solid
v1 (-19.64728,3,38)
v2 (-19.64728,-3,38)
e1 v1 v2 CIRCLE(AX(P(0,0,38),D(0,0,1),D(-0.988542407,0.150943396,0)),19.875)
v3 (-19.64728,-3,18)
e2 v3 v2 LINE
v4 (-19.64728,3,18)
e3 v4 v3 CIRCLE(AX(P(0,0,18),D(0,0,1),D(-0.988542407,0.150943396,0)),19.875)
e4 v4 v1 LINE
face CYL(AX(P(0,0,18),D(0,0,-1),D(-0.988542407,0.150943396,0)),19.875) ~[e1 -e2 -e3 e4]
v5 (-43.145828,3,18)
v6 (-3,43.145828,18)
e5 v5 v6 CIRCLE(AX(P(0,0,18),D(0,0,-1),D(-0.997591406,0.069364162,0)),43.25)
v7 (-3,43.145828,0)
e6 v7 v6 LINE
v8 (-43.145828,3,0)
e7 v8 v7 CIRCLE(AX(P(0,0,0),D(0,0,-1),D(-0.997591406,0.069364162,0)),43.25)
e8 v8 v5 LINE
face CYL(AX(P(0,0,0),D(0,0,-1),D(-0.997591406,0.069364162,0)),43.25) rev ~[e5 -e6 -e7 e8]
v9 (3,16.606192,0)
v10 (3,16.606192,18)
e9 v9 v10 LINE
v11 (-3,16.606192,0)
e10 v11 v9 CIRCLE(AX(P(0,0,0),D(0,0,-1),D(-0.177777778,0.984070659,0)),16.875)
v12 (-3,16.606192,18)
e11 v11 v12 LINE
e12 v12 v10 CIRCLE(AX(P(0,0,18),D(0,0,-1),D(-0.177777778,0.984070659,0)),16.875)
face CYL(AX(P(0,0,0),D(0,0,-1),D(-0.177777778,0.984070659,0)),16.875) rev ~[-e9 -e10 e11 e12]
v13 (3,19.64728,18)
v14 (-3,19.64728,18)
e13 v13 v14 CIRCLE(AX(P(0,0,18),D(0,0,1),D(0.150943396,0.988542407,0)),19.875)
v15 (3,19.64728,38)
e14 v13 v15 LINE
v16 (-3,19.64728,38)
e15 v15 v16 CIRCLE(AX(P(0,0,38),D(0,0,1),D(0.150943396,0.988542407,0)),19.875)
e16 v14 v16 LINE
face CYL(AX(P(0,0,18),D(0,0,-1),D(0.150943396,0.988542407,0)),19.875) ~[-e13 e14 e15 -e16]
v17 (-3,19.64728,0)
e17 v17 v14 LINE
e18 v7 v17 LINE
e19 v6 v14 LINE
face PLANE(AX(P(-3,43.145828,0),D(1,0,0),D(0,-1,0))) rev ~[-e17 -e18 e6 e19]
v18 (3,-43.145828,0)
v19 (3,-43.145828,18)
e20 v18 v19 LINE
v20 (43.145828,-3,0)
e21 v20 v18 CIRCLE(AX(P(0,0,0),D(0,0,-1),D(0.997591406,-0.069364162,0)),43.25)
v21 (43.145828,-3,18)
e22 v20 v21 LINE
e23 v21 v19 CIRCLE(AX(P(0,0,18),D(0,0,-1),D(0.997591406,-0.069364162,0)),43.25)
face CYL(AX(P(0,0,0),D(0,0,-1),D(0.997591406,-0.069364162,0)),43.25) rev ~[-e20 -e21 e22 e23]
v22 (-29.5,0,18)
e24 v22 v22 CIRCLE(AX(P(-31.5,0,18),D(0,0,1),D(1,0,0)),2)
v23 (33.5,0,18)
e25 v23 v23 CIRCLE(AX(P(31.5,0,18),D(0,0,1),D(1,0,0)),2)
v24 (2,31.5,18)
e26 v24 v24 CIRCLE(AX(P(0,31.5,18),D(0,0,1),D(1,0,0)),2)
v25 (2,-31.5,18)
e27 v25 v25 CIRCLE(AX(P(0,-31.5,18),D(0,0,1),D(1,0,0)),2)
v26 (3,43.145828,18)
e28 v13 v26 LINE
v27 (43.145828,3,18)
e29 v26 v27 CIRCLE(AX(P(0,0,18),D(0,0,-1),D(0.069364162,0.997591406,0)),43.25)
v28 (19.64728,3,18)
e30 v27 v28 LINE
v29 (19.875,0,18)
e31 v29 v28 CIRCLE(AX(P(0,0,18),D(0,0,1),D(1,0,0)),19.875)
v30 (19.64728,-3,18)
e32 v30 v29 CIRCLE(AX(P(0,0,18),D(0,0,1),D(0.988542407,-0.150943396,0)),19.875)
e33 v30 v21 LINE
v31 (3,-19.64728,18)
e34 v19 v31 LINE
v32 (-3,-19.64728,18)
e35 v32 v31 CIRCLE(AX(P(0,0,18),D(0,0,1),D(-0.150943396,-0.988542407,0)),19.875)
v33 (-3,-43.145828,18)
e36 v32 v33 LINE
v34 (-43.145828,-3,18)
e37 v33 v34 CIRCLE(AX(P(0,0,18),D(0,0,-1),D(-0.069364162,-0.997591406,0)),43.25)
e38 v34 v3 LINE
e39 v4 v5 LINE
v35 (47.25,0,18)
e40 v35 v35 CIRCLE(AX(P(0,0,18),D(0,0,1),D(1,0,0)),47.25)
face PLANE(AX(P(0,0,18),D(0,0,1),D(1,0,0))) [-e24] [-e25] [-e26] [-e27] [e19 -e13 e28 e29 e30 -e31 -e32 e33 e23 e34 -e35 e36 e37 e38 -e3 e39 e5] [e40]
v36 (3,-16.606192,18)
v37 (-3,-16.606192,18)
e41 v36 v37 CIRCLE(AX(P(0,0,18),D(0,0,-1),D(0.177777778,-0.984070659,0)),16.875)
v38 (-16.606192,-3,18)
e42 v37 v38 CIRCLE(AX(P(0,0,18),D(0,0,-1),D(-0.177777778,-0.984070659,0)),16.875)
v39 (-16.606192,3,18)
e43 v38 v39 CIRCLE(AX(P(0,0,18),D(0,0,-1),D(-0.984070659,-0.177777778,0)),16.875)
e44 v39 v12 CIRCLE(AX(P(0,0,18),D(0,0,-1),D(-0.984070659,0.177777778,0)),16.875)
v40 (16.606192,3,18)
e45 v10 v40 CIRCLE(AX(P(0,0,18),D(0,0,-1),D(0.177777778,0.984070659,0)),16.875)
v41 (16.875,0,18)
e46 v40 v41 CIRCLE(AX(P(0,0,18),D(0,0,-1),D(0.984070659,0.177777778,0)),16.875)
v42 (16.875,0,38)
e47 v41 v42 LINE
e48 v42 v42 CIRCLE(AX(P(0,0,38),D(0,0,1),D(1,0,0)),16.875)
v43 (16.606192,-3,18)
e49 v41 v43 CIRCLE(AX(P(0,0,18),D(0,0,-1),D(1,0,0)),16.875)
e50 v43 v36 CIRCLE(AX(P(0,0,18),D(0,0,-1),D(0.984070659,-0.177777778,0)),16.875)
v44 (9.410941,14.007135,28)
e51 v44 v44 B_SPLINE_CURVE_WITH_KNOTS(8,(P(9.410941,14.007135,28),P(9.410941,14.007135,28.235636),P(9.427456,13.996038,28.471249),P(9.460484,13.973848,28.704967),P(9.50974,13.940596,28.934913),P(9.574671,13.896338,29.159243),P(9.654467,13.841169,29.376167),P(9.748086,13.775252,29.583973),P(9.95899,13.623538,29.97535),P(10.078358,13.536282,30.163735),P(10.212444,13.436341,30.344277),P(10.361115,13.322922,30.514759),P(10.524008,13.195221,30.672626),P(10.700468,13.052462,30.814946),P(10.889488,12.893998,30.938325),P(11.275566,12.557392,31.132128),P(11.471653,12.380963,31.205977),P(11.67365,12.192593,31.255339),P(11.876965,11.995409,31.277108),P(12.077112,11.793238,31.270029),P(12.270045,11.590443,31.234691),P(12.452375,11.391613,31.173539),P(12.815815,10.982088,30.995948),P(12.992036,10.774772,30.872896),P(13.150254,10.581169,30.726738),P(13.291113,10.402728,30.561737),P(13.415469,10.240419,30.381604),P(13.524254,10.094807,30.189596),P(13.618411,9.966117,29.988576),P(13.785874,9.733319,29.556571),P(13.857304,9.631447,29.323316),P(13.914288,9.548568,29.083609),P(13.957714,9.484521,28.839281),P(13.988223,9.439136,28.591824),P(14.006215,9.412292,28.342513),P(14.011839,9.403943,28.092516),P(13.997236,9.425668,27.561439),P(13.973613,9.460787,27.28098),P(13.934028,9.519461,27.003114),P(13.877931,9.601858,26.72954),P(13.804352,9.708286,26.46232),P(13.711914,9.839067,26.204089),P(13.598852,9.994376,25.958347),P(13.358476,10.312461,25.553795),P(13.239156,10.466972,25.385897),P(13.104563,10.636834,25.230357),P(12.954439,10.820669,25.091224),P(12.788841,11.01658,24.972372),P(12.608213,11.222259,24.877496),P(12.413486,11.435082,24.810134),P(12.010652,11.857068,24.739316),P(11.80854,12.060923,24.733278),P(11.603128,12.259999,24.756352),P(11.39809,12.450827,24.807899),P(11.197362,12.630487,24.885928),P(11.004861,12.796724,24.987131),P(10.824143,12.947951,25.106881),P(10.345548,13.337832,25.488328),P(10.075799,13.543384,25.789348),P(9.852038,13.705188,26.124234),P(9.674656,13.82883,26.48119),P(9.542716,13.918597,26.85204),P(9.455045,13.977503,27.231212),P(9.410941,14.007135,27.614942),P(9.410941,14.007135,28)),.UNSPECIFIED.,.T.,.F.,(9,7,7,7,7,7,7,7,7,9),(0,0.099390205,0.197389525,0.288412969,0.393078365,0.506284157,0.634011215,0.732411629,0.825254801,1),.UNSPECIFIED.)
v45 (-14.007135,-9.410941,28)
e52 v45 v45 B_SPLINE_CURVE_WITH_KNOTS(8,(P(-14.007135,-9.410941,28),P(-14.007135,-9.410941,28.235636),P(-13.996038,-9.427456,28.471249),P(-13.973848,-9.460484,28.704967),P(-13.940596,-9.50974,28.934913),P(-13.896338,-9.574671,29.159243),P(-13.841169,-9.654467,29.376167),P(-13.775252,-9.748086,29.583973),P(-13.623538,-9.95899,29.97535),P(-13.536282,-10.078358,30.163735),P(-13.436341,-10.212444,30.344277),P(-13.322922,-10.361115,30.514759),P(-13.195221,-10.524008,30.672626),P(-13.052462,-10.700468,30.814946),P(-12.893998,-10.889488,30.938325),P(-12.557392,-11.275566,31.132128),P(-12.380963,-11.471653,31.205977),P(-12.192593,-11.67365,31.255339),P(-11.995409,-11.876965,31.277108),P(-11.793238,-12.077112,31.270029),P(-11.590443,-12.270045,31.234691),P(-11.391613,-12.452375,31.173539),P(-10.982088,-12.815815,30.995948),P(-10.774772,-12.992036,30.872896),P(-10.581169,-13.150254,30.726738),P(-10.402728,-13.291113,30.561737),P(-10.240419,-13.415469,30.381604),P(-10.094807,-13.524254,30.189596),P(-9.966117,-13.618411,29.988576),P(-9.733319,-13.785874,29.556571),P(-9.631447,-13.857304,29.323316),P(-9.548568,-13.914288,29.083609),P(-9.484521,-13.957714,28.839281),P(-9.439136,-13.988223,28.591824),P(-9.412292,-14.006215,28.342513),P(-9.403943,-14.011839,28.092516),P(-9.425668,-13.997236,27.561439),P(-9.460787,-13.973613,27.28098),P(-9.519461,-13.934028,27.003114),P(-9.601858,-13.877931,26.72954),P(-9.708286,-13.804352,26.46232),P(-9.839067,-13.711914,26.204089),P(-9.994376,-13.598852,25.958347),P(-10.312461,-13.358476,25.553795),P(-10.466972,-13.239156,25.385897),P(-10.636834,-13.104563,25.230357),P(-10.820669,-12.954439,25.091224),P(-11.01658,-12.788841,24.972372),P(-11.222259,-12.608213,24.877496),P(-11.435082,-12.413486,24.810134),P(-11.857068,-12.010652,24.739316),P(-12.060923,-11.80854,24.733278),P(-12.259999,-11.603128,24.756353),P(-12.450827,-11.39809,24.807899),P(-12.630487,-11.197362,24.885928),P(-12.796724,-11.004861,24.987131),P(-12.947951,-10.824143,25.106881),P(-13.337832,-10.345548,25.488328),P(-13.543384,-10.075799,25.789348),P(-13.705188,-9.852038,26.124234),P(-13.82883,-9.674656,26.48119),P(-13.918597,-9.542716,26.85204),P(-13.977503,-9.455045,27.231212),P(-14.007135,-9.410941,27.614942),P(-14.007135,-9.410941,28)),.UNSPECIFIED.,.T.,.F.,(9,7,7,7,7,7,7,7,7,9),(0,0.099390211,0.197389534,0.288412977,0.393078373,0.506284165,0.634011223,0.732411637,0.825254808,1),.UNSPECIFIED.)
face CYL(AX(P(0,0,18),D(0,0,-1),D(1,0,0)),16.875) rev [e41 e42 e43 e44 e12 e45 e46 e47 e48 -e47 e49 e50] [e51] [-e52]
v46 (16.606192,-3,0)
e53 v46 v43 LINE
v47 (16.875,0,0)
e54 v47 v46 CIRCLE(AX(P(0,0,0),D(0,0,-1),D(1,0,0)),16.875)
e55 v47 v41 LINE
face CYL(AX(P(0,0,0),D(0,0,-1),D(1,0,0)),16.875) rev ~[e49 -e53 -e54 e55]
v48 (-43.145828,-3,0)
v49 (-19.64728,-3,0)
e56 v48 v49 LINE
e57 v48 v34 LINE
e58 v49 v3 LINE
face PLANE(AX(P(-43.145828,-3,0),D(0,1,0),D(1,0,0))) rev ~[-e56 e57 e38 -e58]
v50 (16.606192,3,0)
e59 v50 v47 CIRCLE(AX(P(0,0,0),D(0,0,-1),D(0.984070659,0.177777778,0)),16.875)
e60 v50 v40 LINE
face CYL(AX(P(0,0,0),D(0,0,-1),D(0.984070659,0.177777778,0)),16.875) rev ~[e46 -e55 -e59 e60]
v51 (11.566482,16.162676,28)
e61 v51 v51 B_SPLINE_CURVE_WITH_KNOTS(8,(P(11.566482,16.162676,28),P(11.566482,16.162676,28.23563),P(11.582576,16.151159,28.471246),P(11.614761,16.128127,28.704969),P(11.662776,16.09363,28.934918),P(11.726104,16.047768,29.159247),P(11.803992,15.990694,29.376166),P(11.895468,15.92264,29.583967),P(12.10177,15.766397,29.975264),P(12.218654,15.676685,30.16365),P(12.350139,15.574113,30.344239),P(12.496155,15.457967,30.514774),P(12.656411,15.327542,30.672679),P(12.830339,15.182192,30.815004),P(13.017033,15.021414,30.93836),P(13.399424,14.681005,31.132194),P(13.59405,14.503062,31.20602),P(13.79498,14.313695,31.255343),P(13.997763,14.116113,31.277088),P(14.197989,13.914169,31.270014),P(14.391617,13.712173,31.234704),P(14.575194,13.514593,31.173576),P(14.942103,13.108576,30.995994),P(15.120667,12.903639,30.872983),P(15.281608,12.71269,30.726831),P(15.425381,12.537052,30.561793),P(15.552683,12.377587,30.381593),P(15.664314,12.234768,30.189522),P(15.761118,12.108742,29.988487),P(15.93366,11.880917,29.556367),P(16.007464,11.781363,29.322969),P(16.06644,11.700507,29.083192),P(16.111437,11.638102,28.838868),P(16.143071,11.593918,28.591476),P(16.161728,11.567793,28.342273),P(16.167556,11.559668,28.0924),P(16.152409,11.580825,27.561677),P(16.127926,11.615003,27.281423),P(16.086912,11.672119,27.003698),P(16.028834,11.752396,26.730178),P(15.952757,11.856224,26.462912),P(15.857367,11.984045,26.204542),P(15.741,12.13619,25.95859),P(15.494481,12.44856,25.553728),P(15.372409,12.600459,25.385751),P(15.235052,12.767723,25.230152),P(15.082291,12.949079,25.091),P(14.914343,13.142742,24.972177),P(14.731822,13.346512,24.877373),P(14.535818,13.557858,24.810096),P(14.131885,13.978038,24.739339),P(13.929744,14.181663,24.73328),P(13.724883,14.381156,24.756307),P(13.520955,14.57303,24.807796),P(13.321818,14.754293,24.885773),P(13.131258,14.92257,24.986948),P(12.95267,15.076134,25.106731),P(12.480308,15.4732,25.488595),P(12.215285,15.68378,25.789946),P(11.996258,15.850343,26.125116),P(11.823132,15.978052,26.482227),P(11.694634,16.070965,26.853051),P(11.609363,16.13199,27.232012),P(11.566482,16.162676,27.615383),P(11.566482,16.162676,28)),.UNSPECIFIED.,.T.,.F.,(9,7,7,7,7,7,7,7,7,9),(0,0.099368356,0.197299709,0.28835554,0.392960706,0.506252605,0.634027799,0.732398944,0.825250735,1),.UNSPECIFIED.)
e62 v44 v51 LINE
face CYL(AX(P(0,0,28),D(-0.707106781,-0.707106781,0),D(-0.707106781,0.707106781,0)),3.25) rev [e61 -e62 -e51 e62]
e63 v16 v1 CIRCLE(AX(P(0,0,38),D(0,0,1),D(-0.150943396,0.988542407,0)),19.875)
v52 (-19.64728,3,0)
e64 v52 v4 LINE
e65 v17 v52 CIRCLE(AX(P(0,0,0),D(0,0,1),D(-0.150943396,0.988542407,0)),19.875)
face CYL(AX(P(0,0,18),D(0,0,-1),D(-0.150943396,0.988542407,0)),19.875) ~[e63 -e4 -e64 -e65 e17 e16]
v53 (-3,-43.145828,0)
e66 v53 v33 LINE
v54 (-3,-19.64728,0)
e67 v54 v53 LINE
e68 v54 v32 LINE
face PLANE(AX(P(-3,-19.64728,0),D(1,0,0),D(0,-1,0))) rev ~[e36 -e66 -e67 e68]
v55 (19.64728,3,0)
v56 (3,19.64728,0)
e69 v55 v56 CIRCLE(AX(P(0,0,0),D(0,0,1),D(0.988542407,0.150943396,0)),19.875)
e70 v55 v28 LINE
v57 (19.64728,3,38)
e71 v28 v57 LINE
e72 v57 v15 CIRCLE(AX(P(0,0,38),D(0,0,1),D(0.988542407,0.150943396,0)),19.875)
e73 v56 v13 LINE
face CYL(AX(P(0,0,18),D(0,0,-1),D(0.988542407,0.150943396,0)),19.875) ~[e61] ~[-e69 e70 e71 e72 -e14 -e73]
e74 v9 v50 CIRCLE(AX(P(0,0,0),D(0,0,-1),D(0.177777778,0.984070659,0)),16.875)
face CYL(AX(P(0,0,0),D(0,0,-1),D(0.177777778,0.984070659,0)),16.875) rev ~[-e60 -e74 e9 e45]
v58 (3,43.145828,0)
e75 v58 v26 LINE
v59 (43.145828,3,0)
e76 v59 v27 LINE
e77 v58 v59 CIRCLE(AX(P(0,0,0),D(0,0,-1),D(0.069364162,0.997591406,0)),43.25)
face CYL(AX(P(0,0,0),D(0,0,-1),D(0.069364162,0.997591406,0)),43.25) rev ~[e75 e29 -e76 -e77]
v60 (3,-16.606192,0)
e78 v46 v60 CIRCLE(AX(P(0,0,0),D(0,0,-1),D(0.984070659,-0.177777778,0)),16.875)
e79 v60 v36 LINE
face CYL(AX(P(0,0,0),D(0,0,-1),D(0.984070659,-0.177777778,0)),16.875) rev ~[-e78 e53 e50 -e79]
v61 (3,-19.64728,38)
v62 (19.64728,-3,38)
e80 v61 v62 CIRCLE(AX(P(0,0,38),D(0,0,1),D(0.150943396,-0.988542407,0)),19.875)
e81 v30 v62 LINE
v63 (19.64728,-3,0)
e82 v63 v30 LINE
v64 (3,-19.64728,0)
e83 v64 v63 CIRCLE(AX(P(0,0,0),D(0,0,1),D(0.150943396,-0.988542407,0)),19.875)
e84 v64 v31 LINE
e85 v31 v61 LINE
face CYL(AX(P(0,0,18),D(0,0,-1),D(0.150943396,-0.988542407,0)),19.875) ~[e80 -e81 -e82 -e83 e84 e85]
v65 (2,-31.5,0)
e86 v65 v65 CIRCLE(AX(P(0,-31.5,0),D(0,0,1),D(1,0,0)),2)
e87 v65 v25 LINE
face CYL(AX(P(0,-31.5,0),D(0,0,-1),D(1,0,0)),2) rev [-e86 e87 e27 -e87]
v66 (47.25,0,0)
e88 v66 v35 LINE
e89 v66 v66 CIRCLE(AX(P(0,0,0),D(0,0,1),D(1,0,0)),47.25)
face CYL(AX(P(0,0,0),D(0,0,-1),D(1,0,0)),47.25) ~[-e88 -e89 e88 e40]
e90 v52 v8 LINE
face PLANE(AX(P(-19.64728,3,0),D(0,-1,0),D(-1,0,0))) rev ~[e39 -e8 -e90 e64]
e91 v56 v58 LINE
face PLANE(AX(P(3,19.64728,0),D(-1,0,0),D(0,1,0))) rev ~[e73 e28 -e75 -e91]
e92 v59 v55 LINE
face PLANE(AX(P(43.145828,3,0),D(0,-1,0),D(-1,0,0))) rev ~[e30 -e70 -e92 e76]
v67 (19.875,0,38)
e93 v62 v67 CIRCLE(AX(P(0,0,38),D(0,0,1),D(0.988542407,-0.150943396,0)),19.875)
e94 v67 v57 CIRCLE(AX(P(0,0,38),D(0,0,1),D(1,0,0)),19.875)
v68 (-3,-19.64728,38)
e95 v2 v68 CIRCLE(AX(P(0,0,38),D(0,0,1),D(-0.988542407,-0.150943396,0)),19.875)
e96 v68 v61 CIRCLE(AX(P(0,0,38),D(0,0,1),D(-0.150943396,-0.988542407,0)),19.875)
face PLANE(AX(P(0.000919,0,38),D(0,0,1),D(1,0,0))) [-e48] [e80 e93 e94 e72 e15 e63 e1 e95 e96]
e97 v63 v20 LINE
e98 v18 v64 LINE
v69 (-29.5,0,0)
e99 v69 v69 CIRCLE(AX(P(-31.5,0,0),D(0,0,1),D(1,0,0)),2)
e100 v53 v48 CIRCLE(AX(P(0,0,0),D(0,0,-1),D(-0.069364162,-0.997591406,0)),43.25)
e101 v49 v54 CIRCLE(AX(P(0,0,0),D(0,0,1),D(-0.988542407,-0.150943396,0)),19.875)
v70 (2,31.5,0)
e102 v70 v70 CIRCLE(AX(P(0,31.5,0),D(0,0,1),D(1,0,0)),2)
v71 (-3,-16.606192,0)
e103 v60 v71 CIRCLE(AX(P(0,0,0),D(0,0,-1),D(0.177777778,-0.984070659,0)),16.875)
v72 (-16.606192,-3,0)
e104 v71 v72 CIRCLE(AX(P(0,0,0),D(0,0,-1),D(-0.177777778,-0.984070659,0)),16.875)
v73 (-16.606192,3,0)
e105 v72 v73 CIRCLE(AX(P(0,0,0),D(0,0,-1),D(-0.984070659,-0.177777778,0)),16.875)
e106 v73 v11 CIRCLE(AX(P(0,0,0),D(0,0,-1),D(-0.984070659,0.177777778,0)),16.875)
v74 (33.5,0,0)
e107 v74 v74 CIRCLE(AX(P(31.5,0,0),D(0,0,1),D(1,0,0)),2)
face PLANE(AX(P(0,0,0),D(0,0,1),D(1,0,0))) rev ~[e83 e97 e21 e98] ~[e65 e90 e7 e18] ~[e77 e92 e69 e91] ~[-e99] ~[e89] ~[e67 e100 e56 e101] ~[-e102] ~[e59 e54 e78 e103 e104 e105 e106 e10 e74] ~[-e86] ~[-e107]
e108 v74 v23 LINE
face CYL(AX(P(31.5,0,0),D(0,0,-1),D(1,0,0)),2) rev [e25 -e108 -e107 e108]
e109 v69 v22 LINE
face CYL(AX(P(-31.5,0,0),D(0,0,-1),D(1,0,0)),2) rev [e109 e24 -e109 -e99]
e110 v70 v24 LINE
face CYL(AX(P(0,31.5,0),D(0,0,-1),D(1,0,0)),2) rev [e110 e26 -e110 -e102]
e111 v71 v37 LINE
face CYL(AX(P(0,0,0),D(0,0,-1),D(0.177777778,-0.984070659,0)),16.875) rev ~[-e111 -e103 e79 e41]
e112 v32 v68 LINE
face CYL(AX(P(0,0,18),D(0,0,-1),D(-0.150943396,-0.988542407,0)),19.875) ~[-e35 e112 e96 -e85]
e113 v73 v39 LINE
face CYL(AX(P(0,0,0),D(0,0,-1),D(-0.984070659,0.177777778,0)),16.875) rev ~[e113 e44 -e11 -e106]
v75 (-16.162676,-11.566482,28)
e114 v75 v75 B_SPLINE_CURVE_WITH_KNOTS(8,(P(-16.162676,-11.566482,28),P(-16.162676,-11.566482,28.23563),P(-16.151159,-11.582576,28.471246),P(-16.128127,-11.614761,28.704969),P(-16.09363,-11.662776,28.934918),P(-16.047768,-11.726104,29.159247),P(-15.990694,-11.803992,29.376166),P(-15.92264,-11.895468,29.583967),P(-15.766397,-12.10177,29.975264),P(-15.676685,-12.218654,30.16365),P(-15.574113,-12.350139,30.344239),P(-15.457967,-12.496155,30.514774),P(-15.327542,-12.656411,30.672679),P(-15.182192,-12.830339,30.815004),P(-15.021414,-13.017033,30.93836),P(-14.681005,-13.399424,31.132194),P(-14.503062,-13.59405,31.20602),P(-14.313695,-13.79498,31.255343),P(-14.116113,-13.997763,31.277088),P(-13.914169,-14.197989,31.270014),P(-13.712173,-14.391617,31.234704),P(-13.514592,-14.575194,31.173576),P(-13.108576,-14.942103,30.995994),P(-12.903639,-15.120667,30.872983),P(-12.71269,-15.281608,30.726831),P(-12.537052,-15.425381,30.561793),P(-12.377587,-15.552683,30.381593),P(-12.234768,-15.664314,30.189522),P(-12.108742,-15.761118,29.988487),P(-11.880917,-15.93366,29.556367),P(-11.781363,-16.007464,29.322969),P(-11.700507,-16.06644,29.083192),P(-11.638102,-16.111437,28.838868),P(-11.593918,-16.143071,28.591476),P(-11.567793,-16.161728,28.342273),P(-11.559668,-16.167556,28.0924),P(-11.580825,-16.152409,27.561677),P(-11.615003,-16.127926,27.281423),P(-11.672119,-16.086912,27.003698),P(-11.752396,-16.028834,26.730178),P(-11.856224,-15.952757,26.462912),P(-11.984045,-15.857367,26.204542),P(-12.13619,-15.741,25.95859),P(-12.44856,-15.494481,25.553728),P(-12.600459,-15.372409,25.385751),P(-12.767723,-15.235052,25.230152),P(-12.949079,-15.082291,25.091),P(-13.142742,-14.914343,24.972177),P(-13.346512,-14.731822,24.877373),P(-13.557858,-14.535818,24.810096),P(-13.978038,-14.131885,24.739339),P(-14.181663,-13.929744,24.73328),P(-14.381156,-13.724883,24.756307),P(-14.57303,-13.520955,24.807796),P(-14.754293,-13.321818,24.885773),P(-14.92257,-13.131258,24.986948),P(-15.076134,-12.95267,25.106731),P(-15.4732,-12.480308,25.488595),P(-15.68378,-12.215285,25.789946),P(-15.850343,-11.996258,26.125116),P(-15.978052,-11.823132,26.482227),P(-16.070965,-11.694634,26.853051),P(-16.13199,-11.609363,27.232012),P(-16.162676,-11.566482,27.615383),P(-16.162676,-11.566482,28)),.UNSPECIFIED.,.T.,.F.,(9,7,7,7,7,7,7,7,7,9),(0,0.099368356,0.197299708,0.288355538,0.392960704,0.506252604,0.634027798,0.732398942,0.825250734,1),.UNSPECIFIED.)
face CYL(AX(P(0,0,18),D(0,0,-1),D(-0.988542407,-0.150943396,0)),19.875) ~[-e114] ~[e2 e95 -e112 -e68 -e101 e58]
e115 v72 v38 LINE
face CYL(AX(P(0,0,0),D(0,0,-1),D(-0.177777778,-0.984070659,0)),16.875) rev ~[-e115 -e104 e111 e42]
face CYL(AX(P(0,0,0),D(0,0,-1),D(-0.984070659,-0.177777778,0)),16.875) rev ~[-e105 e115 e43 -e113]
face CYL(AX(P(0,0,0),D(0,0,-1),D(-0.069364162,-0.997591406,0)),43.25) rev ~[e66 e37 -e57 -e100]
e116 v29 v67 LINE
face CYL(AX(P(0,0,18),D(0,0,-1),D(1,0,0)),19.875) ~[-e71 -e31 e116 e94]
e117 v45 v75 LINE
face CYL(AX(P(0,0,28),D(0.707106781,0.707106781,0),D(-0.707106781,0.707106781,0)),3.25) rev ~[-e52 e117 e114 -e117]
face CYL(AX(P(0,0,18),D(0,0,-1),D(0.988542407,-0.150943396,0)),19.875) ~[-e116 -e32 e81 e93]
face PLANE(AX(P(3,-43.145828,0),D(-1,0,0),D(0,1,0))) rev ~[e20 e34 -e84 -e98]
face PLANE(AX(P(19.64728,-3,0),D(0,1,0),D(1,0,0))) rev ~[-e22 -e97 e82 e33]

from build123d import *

# Parameters (mm, degrees)
F0_R     = 47.25
F0_R_2   = 2
F1_DEPTH = 18
F2_R     = 16.875
F3_DEPTH = 20
F7_R     = 3.25
F8_DEPTH = 25
F9_DEPTH = 25


with BuildPart() as f1:
    # F0 (on Top) → F1 (new body)
    with BuildSketch(Plane.XY):
        Circle(F0_R)
        with BuildLine():
            ThreePointArc((3, 43.1458283036), (30.5823682863, 30.5823682863), (43.1458283036, 3))
            ThreePointArc((43.1458283036, 3), (43.2239492303, 1.5009040394), (43.25, 0))
            ThreePointArc((43.25, 0), (43.2239492303, -1.5009040394), (43.1458283036, -3))
            ThreePointArc((43.1458283036, -3), (30.5823682863, -30.5823682863), (3, -43.1458283036))
            ThreePointArc((3, -43.1458283036), (0, -43.25), (-3, -43.1458283036))
            ThreePointArc((-3, -43.1458283036), (-30.5823682863, -30.5823682863), (-43.1458283036, -3))
            ThreePointArc((-43.1458283036, -3), (-43.25, 0), (-43.1458283036, 3))
            ThreePointArc((-43.1458283036, 3), (-30.5823682863, 30.5823682863), (-3, 43.1458283036))
            ThreePointArc((-3, 43.1458283036), (0, 43.25), (3, 43.1458283036))
        make_face(mode=Mode.SUBTRACT)
        with BuildLine():
            Line((43.1458283036, 3), (19.6472803461, 3))
            ThreePointArc((19.6472803461, 3), (19.8179883172, 1.5043151466), (19.875, 0))
            ThreePointArc((19.875, 0), (19.8179883172, -1.5043151466), (19.6472803461, -3))
            Line((19.6472803461, -3), (43.1458283036, -3))
            ThreePointArc((43.1458283036, -3), (43.2239492303, -1.5009040394), (43.25, 0))
            ThreePointArc((43.25, 0), (43.2239492303, 1.5009040394), (43.1458283036, 3))
        make_face()
        with Locations((31.5, 0)):
            Circle(F0_R_2, mode=Mode.SUBTRACT)
        with BuildLine():
            ThreePointArc((-19.6472803461, -3), (-19.875, 0), (-19.6472803461, 3))
            Line((-19.6472803461, 3), (-43.1458283036, 3))
            ThreePointArc((-43.1458283036, 3), (-43.25, 0), (-43.1458283036, -3))
            Line((-43.1458283036, -3), (-19.6472803461, -3))
        make_face()
        with Locations((-31.5, 0)):
            Circle(F0_R_2, mode=Mode.SUBTRACT)
        with BuildLine():
            ThreePointArc((-3, 19.6472803461), (0, 19.875), (3, 19.6472803461))
            Line((3, 19.6472803461), (3, 43.1458283036))
            ThreePointArc((3, 43.1458283036), (0, 43.25), (-3, 43.1458283036))
            Line((-3, 43.1458283036), (-3, 19.6472803461))
        make_face()
        with Locations((0, 31.5)):
            Circle(F0_R_2, mode=Mode.SUBTRACT)
        with BuildLine():
            Line((3, -43.1458283036), (3, -19.6472803461))
            ThreePointArc((3, -19.6472803461), (0, -19.875), (-3, -19.6472803461))
            Line((-3, -19.6472803461), (-3, -43.1458283036))
            ThreePointArc((-3, -43.1458283036), (0, -43.25), (3, -43.1458283036))
        make_face()
        with Locations((0, -31.5)):
            Circle(F0_R_2, mode=Mode.SUBTRACT)
        with BuildLine():
            Line((-3, -19.6472803461), (-3, -16.6061923691))
            ThreePointArc((-3, -16.6061923691), (-11.9324269325, -11.9324269325), (-16.6061923691, -3))
            Line((-16.6061923691, -3), (-19.6472803461, -3))
            ThreePointArc((-19.6472803461, -3), (-14.0537472761, -14.0537472761), (-3, -19.6472803461))
        make_face()
        with BuildLine():
            Line((19.6472803461, -3), (16.6061923691, -3))
            ThreePointArc((16.6061923691, -3), (11.9324269325, -11.9324269325), (3, -16.6061923691))
            Line((3, -16.6061923691), (3, -19.6472803461))
            ThreePointArc((3, -19.6472803461), (14.0537472761, -14.0537472761), (19.6472803461, -3))
        make_face()
        with BuildLine():
            ThreePointArc((3, 16.6061923691), (11.9324269325, 11.9324269325), (16.6061923691, 3))
            Line((16.6061923691, 3), (19.6472803461, 3))
            ThreePointArc((19.6472803461, 3), (14.0537472761, 14.0537472761), (3, 19.6472803461))
            Line((3, 19.6472803461), (3, 16.6061923691))
        make_face()
        with BuildLine():
            ThreePointArc((-16.6061923691, 3), (-11.9324269325, 11.9324269325), (-3, 16.6061923691))
            Line((-3, 16.6061923691), (-3, 19.6472803461))
            ThreePointArc((-3, 19.6472803461), (-14.0537472761, 14.0537472761), (-19.6472803461, 3))
            Line((-19.6472803461, 3), (-16.6061923691, 3))
        make_face()
        with BuildLine():
            ThreePointArc((-3, 16.6061923691), (0, 16.875), (3, 16.6061923691))
            Line((3, 16.6061923691), (3, 19.6472803461))
            ThreePointArc((3, 19.6472803461), (0, 19.875), (-3, 19.6472803461))
            Line((-3, 19.6472803461), (-3, 16.6061923691))
        make_face()
        with BuildLine():
            ThreePointArc((16.6061923691, 3), (16.8076637465, 1.5060094241), (16.875, 0))
            ThreePointArc((16.875, 0), (16.8076637465, -1.5060094241), (16.6061923691, -3))
            Line((16.6061923691, -3), (19.6472803461, -3))
            ThreePointArc((19.6472803461, -3), (19.8179883172, -1.5043151466), (19.875, 0))
            ThreePointArc((19.875, 0), (19.8179883172, 1.5043151466), (19.6472803461, 3))
            Line((19.6472803461, 3), (16.6061923691, 3))
        make_face()
        with BuildLine():
            ThreePointArc((-16.6061923691, -3), (-16.875, 0), (-16.6061923691, 3))
            Line((-16.6061923691, 3), (-19.6472803461, 3))
            ThreePointArc((-19.6472803461, 3), (-19.875, 0), (-19.6472803461, -3))
            Line((-19.6472803461, -3), (-16.6061923691, -3))
        make_face()
        with BuildLine():
            Line((3, -19.6472803461), (3, -16.6061923691))
            ThreePointArc((3, -16.6061923691), (0, -16.875), (-3, -16.6061923691))
            Line((-3, -16.6061923691), (-3, -19.6472803461))
            ThreePointArc((-3, -19.6472803461), (0, -19.875), (3, -19.6472803461))
        make_face()
    extrude(amount=F1_DEPTH)

    # F2 (on face) → F3 (join)
    with BuildSketch(Plane.XY.offset(18)):
        with BuildLine():
            ThreePointArc((19.6472803461, -3), (19.8179883172, -1.5043151466), (19.875, 0))
            ThreePointArc((19.875, 0), (19.8179883172, 1.5043151466), (19.6472803461, 3))
            ThreePointArc((19.6472803461, 3), (14.0537472761, 14.0537472761), (3, 19.6472803461))
            ThreePointArc((3, 19.6472803461), (0, 19.875), (-3, 19.6472803461))
            ThreePointArc((-3, 19.6472803461), (-14.0537472761, 14.0537472761), (-19.6472803461, 3))
            ThreePointArc((-19.6472803461, 3), (-19.875, 0), (-19.6472803461, -3))
            ThreePointArc((-19.6472803461, -3), (-14.0537472761, -14.0537472761), (-3, -19.6472803461))
            ThreePointArc((-3, -19.6472803461), (0, -19.875), (3, -19.6472803461))
            ThreePointArc((3, -19.6472803461), (14.0537472761, -14.0537472761), (19.6472803461, -3))
        make_face()
        Circle(F2_R, mode=Mode.SUBTRACT)
    extrude(amount=F3_DEPTH)

    # F7 (on line) → F8 (cut)
    with BuildSketch(Plane(origin=(0, 0, 0), x_dir=(-0.7071067812, 0.7071067812, 0), z_dir=(0.7071067812, 0.7071067812, 0))):
        with Locations((0, 28)):
            Circle(F7_R)
    extrude(amount=-F8_DEPTH, mode=Mode.SUBTRACT)

    # F7 (on line) → F9 (cut)
    with BuildSketch(Plane(origin=(0, 0, 0), x_dir=(-0.7071067812, 0.7071067812, 0), z_dir=(0.7071067812, 0.7071067812, 0))):
        with Locations((0, 28)):
            Circle(F7_R)
    extrude(amount=F9_DEPTH, mode=Mode.SUBTRACT)


solid = f1.part
